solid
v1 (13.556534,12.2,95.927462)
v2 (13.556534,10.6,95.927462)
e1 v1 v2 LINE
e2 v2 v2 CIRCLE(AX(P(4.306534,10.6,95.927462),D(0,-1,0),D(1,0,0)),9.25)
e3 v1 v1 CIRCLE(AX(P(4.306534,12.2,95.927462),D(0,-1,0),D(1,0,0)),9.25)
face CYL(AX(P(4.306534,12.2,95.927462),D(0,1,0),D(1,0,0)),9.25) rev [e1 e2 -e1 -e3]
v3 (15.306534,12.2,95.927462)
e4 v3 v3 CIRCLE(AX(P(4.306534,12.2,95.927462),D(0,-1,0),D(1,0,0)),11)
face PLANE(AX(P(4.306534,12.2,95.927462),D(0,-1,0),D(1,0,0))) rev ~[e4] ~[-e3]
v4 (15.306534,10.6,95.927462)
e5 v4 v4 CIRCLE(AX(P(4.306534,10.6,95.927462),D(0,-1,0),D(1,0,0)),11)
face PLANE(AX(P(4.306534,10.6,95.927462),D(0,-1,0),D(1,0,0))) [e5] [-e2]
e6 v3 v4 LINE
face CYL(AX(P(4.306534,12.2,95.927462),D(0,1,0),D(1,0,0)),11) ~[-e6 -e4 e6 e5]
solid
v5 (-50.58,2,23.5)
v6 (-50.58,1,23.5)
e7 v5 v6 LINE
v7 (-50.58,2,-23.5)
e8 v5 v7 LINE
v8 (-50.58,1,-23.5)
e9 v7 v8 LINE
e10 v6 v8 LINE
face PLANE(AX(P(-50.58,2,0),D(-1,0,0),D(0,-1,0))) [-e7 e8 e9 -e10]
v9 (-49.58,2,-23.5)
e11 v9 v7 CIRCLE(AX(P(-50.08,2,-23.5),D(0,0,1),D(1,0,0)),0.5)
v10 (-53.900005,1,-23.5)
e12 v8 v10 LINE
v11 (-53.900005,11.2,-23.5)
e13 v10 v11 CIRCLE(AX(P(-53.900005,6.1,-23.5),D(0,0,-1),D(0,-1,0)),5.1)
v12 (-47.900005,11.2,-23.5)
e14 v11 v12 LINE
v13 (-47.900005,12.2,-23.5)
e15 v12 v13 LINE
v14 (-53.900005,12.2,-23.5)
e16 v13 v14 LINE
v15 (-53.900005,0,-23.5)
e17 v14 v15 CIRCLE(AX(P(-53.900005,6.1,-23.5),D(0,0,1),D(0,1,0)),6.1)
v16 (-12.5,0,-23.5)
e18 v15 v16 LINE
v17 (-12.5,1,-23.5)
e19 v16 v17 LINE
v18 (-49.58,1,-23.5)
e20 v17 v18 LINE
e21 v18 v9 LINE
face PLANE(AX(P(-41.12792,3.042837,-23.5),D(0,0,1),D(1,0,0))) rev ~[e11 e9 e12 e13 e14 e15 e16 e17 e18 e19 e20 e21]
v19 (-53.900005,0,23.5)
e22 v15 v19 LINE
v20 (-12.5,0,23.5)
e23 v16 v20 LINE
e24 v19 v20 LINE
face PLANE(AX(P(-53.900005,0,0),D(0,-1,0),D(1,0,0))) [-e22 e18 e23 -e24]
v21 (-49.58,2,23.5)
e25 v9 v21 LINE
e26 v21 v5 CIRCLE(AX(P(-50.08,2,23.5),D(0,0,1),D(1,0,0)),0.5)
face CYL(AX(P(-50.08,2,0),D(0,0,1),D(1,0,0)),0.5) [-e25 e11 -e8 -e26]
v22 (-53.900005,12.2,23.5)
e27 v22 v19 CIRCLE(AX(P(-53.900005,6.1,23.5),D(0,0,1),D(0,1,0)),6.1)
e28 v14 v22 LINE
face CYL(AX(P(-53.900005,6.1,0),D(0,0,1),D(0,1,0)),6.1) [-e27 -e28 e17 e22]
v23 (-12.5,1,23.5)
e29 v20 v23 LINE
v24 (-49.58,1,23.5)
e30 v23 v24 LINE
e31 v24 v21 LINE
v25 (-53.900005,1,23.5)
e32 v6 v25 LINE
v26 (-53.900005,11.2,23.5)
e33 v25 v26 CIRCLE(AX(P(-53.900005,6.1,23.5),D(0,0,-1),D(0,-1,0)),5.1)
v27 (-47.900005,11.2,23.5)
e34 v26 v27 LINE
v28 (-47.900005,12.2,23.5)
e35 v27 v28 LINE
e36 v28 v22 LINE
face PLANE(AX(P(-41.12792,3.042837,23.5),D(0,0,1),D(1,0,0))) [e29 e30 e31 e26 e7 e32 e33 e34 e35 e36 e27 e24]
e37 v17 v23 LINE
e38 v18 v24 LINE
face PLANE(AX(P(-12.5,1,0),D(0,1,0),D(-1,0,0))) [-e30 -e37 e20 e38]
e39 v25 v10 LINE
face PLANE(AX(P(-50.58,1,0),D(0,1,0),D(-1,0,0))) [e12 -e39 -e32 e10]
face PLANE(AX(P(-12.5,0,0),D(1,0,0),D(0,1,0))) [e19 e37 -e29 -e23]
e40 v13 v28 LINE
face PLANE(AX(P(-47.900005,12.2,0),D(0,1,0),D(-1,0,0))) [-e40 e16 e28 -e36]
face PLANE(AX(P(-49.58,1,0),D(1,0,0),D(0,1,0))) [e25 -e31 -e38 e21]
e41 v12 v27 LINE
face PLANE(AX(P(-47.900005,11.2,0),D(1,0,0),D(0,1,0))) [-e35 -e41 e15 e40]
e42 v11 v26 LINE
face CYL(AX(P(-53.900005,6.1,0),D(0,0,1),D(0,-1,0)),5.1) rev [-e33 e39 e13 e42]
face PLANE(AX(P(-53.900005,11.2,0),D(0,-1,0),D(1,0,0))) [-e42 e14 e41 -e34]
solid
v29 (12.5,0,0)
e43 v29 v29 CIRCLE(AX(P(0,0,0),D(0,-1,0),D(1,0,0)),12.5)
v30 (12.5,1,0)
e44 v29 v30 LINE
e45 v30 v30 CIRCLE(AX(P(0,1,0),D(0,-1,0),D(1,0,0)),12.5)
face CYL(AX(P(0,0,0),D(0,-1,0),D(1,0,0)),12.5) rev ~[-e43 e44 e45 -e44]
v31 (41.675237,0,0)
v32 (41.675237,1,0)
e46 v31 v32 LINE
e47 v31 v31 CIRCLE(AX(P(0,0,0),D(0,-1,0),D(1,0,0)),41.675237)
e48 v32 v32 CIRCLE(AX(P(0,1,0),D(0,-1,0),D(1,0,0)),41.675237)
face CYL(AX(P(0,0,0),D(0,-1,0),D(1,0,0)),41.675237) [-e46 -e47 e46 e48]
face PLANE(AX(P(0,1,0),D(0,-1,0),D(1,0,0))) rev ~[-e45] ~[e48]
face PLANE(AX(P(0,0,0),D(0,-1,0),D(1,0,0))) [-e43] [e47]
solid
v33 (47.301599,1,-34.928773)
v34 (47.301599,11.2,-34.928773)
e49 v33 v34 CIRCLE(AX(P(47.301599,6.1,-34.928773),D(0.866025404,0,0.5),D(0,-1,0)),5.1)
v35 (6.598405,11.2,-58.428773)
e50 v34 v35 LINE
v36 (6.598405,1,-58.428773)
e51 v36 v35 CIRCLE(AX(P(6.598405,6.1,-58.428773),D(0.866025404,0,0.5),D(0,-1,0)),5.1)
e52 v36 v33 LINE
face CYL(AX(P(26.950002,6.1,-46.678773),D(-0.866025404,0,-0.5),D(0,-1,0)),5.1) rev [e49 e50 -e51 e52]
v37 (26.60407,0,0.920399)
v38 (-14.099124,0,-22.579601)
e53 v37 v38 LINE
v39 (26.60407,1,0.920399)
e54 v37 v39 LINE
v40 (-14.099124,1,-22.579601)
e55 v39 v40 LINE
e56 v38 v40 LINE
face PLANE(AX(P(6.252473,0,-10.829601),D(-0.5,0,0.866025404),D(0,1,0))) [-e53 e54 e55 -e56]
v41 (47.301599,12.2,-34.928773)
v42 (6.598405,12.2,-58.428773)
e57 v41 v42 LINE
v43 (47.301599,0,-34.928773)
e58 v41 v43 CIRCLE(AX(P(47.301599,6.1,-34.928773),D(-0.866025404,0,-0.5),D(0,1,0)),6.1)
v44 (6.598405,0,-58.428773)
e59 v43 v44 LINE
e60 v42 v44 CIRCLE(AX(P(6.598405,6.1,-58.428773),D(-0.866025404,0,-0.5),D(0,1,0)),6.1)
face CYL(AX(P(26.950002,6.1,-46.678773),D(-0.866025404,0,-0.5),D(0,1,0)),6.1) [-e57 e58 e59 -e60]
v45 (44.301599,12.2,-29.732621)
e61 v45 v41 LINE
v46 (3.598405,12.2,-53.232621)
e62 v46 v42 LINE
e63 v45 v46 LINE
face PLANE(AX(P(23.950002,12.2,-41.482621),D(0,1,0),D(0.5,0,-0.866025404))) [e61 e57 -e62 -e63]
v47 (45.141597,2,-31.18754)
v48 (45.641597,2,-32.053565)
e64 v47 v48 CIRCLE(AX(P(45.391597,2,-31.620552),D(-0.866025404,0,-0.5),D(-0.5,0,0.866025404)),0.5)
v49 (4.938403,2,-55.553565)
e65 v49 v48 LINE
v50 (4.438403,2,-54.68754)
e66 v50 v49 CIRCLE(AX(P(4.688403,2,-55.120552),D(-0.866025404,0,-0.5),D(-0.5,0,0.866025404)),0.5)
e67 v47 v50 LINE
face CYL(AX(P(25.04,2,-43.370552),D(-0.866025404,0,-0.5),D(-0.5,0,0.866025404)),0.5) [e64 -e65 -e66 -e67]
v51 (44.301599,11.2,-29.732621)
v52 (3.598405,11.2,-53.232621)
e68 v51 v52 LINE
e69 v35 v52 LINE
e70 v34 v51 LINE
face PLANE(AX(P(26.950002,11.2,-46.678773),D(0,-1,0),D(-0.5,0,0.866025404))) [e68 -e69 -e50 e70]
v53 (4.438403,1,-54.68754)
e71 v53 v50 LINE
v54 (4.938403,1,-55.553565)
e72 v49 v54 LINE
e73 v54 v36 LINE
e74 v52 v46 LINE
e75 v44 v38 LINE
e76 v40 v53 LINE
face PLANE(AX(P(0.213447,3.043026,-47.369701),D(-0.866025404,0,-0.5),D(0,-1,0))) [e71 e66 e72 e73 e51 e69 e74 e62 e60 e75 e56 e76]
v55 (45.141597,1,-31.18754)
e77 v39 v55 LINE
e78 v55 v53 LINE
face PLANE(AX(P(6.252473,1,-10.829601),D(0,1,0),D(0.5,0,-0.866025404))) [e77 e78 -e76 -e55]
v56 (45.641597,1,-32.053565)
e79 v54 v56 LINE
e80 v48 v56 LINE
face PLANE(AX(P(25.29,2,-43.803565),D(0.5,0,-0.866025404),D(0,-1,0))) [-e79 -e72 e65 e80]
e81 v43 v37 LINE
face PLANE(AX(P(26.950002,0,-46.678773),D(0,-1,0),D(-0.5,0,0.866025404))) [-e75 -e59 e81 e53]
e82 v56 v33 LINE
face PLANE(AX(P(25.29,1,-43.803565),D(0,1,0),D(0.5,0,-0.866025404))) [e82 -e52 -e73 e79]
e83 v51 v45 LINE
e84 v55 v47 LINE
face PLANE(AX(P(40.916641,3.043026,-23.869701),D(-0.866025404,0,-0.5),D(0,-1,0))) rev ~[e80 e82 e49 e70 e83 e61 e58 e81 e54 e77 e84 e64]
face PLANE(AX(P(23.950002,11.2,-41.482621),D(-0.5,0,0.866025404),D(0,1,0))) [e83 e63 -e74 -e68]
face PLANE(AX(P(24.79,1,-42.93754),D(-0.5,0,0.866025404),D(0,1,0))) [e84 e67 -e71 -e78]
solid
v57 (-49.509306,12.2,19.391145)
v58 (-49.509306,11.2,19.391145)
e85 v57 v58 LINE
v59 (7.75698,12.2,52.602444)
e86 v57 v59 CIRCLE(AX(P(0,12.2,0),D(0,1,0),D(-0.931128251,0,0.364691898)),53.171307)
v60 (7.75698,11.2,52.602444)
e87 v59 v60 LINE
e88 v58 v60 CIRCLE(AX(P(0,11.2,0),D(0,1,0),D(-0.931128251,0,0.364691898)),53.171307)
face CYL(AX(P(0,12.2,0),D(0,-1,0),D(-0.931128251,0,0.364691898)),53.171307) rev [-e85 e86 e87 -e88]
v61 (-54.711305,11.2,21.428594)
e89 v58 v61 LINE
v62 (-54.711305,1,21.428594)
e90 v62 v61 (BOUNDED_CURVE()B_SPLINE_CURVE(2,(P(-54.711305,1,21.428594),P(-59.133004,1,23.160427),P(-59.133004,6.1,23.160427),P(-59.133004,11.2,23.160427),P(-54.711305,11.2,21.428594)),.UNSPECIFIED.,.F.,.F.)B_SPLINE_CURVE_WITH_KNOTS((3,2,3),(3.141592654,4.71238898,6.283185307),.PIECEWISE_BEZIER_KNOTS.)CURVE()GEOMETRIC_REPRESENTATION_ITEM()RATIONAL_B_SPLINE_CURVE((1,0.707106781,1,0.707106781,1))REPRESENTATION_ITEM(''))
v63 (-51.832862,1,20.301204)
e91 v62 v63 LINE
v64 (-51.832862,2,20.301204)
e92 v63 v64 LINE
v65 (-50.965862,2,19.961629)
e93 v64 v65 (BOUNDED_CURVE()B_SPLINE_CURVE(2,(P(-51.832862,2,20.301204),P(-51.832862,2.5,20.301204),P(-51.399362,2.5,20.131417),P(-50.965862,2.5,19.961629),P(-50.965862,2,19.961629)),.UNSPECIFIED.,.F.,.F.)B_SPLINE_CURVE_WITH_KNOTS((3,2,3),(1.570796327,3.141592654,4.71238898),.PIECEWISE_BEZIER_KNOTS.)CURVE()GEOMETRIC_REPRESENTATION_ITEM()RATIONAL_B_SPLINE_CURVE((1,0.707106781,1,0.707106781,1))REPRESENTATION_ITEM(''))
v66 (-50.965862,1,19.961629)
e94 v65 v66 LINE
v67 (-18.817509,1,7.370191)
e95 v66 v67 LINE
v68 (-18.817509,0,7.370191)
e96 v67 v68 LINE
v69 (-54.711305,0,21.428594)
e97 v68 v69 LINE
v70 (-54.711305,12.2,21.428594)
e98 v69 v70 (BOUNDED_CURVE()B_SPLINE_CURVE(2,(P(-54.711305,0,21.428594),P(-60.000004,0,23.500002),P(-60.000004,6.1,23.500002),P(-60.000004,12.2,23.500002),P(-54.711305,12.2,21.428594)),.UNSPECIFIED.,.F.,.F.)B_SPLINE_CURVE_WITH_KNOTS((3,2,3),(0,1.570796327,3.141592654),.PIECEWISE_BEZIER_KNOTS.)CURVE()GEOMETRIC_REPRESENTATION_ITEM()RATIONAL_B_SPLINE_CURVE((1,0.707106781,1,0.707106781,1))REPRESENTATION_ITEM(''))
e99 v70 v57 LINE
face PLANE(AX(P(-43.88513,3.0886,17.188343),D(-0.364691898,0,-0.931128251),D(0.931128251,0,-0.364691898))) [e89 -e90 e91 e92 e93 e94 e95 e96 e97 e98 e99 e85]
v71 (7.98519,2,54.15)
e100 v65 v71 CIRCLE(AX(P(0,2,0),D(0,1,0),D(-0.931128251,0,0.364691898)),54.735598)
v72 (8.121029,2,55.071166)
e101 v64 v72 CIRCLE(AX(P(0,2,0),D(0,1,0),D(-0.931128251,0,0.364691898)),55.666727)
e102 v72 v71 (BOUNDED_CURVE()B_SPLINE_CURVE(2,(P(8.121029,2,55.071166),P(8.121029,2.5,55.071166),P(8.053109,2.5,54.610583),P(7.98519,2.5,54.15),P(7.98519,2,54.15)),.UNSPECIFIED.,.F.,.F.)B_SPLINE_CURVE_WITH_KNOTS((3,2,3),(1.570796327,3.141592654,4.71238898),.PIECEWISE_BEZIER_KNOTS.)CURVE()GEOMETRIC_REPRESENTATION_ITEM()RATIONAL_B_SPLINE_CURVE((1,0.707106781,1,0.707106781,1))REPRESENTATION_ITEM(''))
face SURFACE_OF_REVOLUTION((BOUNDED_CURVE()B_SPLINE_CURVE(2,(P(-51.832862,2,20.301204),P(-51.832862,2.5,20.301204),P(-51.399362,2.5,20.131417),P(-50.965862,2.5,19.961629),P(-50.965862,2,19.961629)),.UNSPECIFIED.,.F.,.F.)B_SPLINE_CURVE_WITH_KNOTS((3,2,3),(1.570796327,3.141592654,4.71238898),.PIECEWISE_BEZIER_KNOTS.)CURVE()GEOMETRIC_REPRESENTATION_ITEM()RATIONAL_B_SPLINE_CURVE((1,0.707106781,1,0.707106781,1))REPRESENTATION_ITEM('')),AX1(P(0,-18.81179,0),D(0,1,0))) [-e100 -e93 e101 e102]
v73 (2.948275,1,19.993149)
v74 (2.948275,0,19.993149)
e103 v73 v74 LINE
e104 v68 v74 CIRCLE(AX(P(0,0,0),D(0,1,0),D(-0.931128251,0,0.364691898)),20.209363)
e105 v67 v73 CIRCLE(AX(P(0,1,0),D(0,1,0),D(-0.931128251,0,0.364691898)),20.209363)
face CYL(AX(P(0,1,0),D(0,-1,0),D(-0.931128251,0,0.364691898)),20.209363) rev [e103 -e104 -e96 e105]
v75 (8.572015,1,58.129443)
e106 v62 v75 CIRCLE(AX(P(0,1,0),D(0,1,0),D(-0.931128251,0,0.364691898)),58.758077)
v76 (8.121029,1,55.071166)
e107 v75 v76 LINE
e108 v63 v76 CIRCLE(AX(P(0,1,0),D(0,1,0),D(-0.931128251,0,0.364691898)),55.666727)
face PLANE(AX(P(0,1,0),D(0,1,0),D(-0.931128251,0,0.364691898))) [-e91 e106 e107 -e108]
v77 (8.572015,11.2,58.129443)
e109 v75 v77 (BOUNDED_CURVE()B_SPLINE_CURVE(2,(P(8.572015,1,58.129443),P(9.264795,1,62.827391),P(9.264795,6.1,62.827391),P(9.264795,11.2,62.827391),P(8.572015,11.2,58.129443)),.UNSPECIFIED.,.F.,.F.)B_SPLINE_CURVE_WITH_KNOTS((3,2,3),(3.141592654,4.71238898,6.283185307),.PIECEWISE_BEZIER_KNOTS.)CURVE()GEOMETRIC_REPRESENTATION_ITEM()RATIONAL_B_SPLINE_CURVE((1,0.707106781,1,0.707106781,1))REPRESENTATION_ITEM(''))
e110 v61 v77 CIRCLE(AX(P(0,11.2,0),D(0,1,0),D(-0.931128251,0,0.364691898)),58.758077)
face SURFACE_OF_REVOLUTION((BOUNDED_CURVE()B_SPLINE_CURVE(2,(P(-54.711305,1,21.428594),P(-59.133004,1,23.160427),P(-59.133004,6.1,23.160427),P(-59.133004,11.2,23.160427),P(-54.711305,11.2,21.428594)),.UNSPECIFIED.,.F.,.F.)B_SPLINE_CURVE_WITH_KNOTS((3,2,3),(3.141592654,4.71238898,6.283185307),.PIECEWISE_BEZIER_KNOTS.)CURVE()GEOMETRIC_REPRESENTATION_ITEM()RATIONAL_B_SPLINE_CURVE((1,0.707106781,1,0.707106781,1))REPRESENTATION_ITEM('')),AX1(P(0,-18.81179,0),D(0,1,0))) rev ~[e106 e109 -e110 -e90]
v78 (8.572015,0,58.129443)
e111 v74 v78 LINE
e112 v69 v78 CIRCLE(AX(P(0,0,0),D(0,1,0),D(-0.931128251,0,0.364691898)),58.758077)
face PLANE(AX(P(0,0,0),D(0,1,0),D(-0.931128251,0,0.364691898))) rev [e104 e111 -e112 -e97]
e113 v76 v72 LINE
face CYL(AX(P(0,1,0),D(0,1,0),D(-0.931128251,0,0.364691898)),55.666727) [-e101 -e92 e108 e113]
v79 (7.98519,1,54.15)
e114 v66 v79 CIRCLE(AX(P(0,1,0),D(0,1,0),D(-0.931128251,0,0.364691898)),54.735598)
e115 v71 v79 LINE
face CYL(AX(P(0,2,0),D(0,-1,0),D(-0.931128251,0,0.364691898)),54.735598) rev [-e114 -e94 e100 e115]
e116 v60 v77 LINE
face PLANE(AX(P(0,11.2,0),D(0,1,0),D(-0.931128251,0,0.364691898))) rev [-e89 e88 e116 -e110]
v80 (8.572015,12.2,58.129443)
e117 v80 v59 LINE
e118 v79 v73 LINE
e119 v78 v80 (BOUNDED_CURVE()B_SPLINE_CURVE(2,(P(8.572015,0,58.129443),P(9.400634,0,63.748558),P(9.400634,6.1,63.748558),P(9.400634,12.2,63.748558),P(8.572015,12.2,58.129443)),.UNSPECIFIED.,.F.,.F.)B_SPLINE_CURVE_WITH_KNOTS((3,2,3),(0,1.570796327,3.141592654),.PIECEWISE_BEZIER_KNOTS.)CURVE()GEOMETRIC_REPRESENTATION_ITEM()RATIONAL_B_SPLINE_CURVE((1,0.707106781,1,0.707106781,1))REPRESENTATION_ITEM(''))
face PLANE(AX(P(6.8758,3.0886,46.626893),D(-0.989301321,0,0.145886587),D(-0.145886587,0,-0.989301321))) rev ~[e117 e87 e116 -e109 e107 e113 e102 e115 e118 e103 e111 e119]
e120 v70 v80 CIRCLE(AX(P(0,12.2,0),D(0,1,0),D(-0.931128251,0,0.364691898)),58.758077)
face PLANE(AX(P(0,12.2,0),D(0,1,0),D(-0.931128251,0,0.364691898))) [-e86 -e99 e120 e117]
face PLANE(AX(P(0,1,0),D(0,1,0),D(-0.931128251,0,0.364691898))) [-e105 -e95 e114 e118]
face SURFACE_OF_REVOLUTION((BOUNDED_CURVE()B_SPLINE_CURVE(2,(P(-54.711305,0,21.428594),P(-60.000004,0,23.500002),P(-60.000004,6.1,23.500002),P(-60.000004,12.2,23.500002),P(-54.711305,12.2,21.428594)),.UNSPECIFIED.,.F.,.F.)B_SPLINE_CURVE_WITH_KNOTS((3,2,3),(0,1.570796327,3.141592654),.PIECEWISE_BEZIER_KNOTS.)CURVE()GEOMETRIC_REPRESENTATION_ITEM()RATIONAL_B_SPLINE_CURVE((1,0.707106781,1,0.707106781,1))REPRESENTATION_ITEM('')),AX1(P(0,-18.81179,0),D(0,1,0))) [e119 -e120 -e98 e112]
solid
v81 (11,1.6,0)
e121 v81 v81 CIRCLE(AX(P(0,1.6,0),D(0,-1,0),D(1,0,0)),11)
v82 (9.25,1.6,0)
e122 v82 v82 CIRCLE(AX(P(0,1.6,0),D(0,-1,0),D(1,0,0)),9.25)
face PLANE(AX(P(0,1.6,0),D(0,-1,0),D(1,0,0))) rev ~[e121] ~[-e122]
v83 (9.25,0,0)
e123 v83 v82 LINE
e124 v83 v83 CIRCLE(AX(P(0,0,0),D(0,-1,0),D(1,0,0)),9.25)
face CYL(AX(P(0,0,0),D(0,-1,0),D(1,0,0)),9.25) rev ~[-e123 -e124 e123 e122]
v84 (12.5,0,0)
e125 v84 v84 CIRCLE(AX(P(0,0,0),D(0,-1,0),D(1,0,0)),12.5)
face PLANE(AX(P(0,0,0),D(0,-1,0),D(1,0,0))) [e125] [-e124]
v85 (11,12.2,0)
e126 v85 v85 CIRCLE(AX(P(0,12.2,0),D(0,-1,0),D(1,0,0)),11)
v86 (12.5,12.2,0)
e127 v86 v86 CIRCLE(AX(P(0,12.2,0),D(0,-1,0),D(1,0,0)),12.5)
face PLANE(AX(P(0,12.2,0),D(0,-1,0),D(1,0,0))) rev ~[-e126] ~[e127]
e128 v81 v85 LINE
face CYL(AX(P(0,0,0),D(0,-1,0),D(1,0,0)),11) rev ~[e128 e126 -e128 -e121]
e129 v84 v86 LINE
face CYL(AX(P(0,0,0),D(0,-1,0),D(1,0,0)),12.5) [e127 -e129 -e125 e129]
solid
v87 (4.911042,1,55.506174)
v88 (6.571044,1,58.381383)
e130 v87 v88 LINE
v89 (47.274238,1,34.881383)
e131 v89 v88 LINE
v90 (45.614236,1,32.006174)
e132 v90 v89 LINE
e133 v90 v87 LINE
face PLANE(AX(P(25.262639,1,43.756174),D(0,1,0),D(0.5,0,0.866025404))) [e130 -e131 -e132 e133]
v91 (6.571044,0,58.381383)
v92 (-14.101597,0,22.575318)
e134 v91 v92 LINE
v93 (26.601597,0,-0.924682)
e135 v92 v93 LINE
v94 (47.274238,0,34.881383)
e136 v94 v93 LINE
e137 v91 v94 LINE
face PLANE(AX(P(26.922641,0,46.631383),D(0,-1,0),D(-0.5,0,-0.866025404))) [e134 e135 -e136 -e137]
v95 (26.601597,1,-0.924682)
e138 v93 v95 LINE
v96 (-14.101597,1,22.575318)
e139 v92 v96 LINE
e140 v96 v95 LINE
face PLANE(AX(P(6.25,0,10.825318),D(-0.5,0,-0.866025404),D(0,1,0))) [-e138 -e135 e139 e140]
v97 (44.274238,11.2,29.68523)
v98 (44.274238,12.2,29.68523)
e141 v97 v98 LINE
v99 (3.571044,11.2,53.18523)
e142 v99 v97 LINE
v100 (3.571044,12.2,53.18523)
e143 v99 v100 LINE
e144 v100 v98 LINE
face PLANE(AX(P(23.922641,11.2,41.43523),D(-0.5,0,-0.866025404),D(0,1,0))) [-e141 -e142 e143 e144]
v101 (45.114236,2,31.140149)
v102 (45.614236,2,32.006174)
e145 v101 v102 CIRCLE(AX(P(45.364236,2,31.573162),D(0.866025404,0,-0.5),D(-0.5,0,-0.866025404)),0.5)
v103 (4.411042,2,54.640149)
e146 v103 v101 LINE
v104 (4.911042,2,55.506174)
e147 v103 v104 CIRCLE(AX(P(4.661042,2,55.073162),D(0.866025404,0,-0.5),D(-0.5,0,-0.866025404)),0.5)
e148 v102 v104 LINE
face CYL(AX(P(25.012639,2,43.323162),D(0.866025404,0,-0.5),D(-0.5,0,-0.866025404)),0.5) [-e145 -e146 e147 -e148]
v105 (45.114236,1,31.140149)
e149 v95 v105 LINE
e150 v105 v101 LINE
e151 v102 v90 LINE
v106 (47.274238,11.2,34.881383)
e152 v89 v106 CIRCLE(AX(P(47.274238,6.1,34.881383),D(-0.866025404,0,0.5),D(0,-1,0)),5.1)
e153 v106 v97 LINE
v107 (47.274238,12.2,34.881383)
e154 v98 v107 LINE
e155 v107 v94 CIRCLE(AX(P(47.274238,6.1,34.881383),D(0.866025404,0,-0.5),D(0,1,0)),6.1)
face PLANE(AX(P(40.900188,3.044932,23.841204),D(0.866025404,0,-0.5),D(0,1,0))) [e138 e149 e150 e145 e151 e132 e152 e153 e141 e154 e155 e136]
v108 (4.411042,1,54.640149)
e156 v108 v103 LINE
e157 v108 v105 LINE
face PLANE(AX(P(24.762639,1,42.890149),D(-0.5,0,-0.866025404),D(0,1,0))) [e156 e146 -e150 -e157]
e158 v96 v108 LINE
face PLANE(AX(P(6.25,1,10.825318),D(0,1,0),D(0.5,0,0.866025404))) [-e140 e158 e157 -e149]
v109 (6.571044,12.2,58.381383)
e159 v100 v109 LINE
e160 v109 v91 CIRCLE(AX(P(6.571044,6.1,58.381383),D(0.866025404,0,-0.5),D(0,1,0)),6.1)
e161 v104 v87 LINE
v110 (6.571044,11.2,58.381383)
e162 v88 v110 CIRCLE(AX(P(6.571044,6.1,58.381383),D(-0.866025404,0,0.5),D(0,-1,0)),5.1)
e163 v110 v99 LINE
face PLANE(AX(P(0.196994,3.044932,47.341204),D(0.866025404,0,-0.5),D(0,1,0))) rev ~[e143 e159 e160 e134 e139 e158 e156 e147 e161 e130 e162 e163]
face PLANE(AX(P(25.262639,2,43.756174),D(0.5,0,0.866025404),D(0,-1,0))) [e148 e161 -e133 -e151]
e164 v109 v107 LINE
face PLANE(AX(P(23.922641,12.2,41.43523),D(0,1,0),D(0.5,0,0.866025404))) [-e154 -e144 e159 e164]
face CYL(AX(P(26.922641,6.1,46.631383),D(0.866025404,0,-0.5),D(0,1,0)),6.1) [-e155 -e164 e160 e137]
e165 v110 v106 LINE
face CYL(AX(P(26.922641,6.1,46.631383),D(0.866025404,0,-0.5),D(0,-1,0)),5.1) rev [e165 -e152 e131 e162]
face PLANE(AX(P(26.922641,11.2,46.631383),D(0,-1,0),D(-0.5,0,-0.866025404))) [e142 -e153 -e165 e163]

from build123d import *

# Parameters (mm, degrees)
F0_R      = 12.5
F0_R_2    = 11
F1_DEPTH  = 12.2
F3_DEPTH  = 23.5
F7_DEPTH  = 23.5
F11_DEPTH = 23.5
F13_R     = 11
F14_DEPTH = 25
F0_R_3    = 9.25
F15_DEPTH = 1.6
F20_ANGLE = 77
F13_R_2   = 9.25
F22_DEPTH = 1.6
F0_R_4    = 41.6752373002
F0_R_5    = 20.5615525182
F23_DEPTH = 1


with BuildPart() as f1:
    # F0 (on Front) → F1 (new body)
    with BuildSketch(Plane.XZ):
        Circle(F0_R)
        Circle(F0_R_2, mode=Mode.SUBTRACT)
    extrude(amount=-F1_DEPTH)

    # F13 (on offset) → F14 (cut)
    with BuildSketch(Plane.XZ.offset(-12.2)):
        Circle(F13_R)
    extrude(amount=F14_DEPTH, mode=Mode.SUBTRACT)

    # F0 (on Front) → F15 (join)
    with BuildSketch(Plane.XZ):
        Circle(F0_R_2)
        Circle(F0_R_3, mode=Mode.SUBTRACT)
    extrude(amount=-F15_DEPTH)


with BuildPart() as f3:
    # F2 (on Top) → F3 (new body, symmetric)
    with BuildSketch(Plane.XY):
        with BuildLine():
            ThreePointArc((-53.9000045358, 1), (-59.0000045358, 6.1), (-53.9000045358, 11.2))
            Line((-53.9000045358, 11.2), (-47.9000045358, 11.2))
            Line((-47.9000045358, 11.2), (-47.9000045358, 12.2))
            Line((-47.9000045358, 12.2), (-53.9000045358, 12.2))
            ThreePointArc((-53.9000045358, 12.2), (-60.0000045358, 6.1), (-53.9000045358, 0))
            Line((-53.9000045358, 0), (-49.58, 0))
            Line((-49.58, 0), (-12.5, 0))
            Line((-12.5, 0), (-12.5, 1))
            Line((-12.5, 1), (-49.58, 1))
            Line((-49.58, 1), (-49.58, 2))
            ThreePointArc((-49.58, 2), (-50.08, 2.5), (-50.58, 2))
            Line((-50.58, 2), (-50.58, 1))
            Line((-50.58, 1), (-53.9000045358, 1))
        make_face()
    extrude(amount=F3_DEPTH, both=True)


with BuildPart() as f7:
    # F6 (on line) → F7 (new body, symmetric)
    with BuildSketch(Plane(origin=(0, 0, 0), x_dir=(0, -1, 0), z_dir=(-0.8660254038, 0, -0.5))):
        with BuildLine():
            ThreePointArc((-1, -53.9000045358), (-6.1, -59.0000045358), (-11.2, -53.9000045358))
            Line((-11.2, -53.9000045358), (-11.2, -47.9000045358))
            Line((-11.2, -47.9000045358), (-12.2, -47.9000045358))
            Line((-12.2, -47.9000045358), (-12.2, -53.9000045358))
            ThreePointArc((-12.2, -53.9000045358), (-6.1, -60.0000045358), (0, -53.9000045358))
            Line((0, -53.9000045358), (0, -49.58))
            Line((0, -49.58), (0, -12.5049466592))
            Line((0, -12.5049466592), (-1, -12.5049466592))
            Line((-1, -12.5049466592), (-1, -49.58))
            Line((-1, -49.58), (-2, -49.58))
            ThreePointArc((-2, -49.58), (-2.5, -50.08), (-2, -50.58))
            Line((-2, -50.58), (-1, -50.58))
            Line((-1, -50.58), (-1, -53.9000045358))
        make_face()
    extrude(amount=F7_DEPTH, both=True)


with BuildPart() as f11:
    # F10 (on line) → F11 (new body, symmetric)
    with BuildSketch(Plane(origin=(0, 0, 0), x_dir=(0, 1, 0), z_dir=(0.8660254038, 0, -0.5))):
        with BuildLine():
            ThreePointArc((1, 53.845282644), (6.1, 58.945282644), (11.2, 53.845282644))
            Line((11.2, 53.845282644), (11.2, 47.845282644))
            Line((11.2, 47.845282644), (12.2, 47.845282644))
            Line((12.2, 47.845282644), (12.2, 53.845282644))
            ThreePointArc((12.2, 53.845282644), (6.1, 59.945282644), (0, 53.845282644))
            Line((0, 53.845282644), (0, 49.5252781083))
            Line((0, 49.5252781083), (0, 12.5))
            Line((0, 12.5), (1, 12.5))
            Line((1, 12.5), (1, 49.5252781083))
            Line((1, 49.5252781083), (2, 49.5252781083))
            ThreePointArc((2, 49.5252781083), (2.5, 50.0252781083), (2, 50.5252781083))
            Line((2, 50.5252781083), (1, 50.5252781083))
            Line((1, 50.5252781083), (1, 53.845282644))
        make_face()
    extrude(amount=F11_DEPTH, both=True)


with BuildPart() as f20:
    # F19 (on face) → F20 (revolve)
    with BuildSketch(Plane(origin=(0, 0, 0), x_dir=(0.9311282508, 0, -0.3646918982), z_dir=(-0.3646918982, 0, -0.9311282508))):
        with BuildLine():
            Line((-20.2093627427, 0), (-58.7580765478, 0))
            add(Edge.make_bspline(
                [(-58.7580765478, 0), (-64.4379588775, 0), (-64.4379588775, -6.1), (-64.4379588775, -12.2), (-58.7580765478, -12.2)],
                knots=[0, 0, 0, 1.5707963268, 1.5707963268, 3.1415926536, 3.1415926536, 3.1415926536], degree=2, weights=[1, 0.7071067812, 1, 0.7071067812, 1]))
            Line((-58.7580765478, -12.2), (-53.1713070432, -12.2))
            Line((-53.1713070432, -12.2), (-53.1713070432, -11.2))
            Line((-53.1713070432, -11.2), (-58.7580765478, -11.2))
            add(Edge.make_bspline(
                [(-58.7580765478, -1), (-63.5068306267, -1), (-63.5068306267, -6.1), (-63.5068306267, -11.2), (-58.7580765478, -11.2)],
                knots=[3.1415926536, 3.1415926536, 3.1415926536, 4.7123889804, 4.7123889804, 6.2831853072, 6.2831853072, 6.2831853072], degree=2, weights=[1, 0.7071067812, 1, 0.7071067812, 1]))
            Line((-58.7580765478, -1), (-55.6667265319, -1))
            Line((-55.6667265319, -1), (-55.6667265319, -2))
            add(Edge.make_bspline(
                [(-55.6667265319, -2), (-55.6667265319, -2.5), (-55.2011624065, -2.5), (-54.7355982811, -2.5), (-54.7355982811, -2)],
                knots=[1.5707963268, 1.5707963268, 1.5707963268, 3.1415926536, 3.1415926536, 4.7123889804, 4.7123889804, 4.7123889804], degree=2, weights=[1, 0.7071067812, 1, 0.7071067812, 1]))
            Line((-54.7355982811, -2), (-54.7355982811, -1))
            Line((-54.7355982811, -1), (-20.2093627427, -1))
            Line((-20.2093627427, -1), (-20.2093627427, 0))
        make_face()
    revolve(axis=Axis((0, -18.8117902726, 0), (0, 1, 0)), revolution_arc=F20_ANGLE)


with BuildPart() as f22:
    # F13 (on offset) → F22 (new body)
    with BuildSketch(Plane.XZ.offset(-12.2)):
        with Locations((4.3065343052, 95.9274619818)):
            Circle(F13_R)
        with Locations((4.3065343052, 95.9274619818)):
            Circle(F13_R_2, mode=Mode.SUBTRACT)
    extrude(amount=F22_DEPTH)


with BuildPart() as f23:
    # F0 (on Front) → F23 (new body)
    with BuildSketch(Plane.XZ):
        Circle(F0_R_4)
        Circle(F0_R_5, mode=Mode.SUBTRACT)
        Circle(F0_R_5)
        Circle(F0_R, mode=Mode.SUBTRACT)
    extrude(amount=-F23_DEPTH)


solid = Compound([f1.part, f3.part, f7.part, f11.part, f20.part, f22.part, f23.part])
